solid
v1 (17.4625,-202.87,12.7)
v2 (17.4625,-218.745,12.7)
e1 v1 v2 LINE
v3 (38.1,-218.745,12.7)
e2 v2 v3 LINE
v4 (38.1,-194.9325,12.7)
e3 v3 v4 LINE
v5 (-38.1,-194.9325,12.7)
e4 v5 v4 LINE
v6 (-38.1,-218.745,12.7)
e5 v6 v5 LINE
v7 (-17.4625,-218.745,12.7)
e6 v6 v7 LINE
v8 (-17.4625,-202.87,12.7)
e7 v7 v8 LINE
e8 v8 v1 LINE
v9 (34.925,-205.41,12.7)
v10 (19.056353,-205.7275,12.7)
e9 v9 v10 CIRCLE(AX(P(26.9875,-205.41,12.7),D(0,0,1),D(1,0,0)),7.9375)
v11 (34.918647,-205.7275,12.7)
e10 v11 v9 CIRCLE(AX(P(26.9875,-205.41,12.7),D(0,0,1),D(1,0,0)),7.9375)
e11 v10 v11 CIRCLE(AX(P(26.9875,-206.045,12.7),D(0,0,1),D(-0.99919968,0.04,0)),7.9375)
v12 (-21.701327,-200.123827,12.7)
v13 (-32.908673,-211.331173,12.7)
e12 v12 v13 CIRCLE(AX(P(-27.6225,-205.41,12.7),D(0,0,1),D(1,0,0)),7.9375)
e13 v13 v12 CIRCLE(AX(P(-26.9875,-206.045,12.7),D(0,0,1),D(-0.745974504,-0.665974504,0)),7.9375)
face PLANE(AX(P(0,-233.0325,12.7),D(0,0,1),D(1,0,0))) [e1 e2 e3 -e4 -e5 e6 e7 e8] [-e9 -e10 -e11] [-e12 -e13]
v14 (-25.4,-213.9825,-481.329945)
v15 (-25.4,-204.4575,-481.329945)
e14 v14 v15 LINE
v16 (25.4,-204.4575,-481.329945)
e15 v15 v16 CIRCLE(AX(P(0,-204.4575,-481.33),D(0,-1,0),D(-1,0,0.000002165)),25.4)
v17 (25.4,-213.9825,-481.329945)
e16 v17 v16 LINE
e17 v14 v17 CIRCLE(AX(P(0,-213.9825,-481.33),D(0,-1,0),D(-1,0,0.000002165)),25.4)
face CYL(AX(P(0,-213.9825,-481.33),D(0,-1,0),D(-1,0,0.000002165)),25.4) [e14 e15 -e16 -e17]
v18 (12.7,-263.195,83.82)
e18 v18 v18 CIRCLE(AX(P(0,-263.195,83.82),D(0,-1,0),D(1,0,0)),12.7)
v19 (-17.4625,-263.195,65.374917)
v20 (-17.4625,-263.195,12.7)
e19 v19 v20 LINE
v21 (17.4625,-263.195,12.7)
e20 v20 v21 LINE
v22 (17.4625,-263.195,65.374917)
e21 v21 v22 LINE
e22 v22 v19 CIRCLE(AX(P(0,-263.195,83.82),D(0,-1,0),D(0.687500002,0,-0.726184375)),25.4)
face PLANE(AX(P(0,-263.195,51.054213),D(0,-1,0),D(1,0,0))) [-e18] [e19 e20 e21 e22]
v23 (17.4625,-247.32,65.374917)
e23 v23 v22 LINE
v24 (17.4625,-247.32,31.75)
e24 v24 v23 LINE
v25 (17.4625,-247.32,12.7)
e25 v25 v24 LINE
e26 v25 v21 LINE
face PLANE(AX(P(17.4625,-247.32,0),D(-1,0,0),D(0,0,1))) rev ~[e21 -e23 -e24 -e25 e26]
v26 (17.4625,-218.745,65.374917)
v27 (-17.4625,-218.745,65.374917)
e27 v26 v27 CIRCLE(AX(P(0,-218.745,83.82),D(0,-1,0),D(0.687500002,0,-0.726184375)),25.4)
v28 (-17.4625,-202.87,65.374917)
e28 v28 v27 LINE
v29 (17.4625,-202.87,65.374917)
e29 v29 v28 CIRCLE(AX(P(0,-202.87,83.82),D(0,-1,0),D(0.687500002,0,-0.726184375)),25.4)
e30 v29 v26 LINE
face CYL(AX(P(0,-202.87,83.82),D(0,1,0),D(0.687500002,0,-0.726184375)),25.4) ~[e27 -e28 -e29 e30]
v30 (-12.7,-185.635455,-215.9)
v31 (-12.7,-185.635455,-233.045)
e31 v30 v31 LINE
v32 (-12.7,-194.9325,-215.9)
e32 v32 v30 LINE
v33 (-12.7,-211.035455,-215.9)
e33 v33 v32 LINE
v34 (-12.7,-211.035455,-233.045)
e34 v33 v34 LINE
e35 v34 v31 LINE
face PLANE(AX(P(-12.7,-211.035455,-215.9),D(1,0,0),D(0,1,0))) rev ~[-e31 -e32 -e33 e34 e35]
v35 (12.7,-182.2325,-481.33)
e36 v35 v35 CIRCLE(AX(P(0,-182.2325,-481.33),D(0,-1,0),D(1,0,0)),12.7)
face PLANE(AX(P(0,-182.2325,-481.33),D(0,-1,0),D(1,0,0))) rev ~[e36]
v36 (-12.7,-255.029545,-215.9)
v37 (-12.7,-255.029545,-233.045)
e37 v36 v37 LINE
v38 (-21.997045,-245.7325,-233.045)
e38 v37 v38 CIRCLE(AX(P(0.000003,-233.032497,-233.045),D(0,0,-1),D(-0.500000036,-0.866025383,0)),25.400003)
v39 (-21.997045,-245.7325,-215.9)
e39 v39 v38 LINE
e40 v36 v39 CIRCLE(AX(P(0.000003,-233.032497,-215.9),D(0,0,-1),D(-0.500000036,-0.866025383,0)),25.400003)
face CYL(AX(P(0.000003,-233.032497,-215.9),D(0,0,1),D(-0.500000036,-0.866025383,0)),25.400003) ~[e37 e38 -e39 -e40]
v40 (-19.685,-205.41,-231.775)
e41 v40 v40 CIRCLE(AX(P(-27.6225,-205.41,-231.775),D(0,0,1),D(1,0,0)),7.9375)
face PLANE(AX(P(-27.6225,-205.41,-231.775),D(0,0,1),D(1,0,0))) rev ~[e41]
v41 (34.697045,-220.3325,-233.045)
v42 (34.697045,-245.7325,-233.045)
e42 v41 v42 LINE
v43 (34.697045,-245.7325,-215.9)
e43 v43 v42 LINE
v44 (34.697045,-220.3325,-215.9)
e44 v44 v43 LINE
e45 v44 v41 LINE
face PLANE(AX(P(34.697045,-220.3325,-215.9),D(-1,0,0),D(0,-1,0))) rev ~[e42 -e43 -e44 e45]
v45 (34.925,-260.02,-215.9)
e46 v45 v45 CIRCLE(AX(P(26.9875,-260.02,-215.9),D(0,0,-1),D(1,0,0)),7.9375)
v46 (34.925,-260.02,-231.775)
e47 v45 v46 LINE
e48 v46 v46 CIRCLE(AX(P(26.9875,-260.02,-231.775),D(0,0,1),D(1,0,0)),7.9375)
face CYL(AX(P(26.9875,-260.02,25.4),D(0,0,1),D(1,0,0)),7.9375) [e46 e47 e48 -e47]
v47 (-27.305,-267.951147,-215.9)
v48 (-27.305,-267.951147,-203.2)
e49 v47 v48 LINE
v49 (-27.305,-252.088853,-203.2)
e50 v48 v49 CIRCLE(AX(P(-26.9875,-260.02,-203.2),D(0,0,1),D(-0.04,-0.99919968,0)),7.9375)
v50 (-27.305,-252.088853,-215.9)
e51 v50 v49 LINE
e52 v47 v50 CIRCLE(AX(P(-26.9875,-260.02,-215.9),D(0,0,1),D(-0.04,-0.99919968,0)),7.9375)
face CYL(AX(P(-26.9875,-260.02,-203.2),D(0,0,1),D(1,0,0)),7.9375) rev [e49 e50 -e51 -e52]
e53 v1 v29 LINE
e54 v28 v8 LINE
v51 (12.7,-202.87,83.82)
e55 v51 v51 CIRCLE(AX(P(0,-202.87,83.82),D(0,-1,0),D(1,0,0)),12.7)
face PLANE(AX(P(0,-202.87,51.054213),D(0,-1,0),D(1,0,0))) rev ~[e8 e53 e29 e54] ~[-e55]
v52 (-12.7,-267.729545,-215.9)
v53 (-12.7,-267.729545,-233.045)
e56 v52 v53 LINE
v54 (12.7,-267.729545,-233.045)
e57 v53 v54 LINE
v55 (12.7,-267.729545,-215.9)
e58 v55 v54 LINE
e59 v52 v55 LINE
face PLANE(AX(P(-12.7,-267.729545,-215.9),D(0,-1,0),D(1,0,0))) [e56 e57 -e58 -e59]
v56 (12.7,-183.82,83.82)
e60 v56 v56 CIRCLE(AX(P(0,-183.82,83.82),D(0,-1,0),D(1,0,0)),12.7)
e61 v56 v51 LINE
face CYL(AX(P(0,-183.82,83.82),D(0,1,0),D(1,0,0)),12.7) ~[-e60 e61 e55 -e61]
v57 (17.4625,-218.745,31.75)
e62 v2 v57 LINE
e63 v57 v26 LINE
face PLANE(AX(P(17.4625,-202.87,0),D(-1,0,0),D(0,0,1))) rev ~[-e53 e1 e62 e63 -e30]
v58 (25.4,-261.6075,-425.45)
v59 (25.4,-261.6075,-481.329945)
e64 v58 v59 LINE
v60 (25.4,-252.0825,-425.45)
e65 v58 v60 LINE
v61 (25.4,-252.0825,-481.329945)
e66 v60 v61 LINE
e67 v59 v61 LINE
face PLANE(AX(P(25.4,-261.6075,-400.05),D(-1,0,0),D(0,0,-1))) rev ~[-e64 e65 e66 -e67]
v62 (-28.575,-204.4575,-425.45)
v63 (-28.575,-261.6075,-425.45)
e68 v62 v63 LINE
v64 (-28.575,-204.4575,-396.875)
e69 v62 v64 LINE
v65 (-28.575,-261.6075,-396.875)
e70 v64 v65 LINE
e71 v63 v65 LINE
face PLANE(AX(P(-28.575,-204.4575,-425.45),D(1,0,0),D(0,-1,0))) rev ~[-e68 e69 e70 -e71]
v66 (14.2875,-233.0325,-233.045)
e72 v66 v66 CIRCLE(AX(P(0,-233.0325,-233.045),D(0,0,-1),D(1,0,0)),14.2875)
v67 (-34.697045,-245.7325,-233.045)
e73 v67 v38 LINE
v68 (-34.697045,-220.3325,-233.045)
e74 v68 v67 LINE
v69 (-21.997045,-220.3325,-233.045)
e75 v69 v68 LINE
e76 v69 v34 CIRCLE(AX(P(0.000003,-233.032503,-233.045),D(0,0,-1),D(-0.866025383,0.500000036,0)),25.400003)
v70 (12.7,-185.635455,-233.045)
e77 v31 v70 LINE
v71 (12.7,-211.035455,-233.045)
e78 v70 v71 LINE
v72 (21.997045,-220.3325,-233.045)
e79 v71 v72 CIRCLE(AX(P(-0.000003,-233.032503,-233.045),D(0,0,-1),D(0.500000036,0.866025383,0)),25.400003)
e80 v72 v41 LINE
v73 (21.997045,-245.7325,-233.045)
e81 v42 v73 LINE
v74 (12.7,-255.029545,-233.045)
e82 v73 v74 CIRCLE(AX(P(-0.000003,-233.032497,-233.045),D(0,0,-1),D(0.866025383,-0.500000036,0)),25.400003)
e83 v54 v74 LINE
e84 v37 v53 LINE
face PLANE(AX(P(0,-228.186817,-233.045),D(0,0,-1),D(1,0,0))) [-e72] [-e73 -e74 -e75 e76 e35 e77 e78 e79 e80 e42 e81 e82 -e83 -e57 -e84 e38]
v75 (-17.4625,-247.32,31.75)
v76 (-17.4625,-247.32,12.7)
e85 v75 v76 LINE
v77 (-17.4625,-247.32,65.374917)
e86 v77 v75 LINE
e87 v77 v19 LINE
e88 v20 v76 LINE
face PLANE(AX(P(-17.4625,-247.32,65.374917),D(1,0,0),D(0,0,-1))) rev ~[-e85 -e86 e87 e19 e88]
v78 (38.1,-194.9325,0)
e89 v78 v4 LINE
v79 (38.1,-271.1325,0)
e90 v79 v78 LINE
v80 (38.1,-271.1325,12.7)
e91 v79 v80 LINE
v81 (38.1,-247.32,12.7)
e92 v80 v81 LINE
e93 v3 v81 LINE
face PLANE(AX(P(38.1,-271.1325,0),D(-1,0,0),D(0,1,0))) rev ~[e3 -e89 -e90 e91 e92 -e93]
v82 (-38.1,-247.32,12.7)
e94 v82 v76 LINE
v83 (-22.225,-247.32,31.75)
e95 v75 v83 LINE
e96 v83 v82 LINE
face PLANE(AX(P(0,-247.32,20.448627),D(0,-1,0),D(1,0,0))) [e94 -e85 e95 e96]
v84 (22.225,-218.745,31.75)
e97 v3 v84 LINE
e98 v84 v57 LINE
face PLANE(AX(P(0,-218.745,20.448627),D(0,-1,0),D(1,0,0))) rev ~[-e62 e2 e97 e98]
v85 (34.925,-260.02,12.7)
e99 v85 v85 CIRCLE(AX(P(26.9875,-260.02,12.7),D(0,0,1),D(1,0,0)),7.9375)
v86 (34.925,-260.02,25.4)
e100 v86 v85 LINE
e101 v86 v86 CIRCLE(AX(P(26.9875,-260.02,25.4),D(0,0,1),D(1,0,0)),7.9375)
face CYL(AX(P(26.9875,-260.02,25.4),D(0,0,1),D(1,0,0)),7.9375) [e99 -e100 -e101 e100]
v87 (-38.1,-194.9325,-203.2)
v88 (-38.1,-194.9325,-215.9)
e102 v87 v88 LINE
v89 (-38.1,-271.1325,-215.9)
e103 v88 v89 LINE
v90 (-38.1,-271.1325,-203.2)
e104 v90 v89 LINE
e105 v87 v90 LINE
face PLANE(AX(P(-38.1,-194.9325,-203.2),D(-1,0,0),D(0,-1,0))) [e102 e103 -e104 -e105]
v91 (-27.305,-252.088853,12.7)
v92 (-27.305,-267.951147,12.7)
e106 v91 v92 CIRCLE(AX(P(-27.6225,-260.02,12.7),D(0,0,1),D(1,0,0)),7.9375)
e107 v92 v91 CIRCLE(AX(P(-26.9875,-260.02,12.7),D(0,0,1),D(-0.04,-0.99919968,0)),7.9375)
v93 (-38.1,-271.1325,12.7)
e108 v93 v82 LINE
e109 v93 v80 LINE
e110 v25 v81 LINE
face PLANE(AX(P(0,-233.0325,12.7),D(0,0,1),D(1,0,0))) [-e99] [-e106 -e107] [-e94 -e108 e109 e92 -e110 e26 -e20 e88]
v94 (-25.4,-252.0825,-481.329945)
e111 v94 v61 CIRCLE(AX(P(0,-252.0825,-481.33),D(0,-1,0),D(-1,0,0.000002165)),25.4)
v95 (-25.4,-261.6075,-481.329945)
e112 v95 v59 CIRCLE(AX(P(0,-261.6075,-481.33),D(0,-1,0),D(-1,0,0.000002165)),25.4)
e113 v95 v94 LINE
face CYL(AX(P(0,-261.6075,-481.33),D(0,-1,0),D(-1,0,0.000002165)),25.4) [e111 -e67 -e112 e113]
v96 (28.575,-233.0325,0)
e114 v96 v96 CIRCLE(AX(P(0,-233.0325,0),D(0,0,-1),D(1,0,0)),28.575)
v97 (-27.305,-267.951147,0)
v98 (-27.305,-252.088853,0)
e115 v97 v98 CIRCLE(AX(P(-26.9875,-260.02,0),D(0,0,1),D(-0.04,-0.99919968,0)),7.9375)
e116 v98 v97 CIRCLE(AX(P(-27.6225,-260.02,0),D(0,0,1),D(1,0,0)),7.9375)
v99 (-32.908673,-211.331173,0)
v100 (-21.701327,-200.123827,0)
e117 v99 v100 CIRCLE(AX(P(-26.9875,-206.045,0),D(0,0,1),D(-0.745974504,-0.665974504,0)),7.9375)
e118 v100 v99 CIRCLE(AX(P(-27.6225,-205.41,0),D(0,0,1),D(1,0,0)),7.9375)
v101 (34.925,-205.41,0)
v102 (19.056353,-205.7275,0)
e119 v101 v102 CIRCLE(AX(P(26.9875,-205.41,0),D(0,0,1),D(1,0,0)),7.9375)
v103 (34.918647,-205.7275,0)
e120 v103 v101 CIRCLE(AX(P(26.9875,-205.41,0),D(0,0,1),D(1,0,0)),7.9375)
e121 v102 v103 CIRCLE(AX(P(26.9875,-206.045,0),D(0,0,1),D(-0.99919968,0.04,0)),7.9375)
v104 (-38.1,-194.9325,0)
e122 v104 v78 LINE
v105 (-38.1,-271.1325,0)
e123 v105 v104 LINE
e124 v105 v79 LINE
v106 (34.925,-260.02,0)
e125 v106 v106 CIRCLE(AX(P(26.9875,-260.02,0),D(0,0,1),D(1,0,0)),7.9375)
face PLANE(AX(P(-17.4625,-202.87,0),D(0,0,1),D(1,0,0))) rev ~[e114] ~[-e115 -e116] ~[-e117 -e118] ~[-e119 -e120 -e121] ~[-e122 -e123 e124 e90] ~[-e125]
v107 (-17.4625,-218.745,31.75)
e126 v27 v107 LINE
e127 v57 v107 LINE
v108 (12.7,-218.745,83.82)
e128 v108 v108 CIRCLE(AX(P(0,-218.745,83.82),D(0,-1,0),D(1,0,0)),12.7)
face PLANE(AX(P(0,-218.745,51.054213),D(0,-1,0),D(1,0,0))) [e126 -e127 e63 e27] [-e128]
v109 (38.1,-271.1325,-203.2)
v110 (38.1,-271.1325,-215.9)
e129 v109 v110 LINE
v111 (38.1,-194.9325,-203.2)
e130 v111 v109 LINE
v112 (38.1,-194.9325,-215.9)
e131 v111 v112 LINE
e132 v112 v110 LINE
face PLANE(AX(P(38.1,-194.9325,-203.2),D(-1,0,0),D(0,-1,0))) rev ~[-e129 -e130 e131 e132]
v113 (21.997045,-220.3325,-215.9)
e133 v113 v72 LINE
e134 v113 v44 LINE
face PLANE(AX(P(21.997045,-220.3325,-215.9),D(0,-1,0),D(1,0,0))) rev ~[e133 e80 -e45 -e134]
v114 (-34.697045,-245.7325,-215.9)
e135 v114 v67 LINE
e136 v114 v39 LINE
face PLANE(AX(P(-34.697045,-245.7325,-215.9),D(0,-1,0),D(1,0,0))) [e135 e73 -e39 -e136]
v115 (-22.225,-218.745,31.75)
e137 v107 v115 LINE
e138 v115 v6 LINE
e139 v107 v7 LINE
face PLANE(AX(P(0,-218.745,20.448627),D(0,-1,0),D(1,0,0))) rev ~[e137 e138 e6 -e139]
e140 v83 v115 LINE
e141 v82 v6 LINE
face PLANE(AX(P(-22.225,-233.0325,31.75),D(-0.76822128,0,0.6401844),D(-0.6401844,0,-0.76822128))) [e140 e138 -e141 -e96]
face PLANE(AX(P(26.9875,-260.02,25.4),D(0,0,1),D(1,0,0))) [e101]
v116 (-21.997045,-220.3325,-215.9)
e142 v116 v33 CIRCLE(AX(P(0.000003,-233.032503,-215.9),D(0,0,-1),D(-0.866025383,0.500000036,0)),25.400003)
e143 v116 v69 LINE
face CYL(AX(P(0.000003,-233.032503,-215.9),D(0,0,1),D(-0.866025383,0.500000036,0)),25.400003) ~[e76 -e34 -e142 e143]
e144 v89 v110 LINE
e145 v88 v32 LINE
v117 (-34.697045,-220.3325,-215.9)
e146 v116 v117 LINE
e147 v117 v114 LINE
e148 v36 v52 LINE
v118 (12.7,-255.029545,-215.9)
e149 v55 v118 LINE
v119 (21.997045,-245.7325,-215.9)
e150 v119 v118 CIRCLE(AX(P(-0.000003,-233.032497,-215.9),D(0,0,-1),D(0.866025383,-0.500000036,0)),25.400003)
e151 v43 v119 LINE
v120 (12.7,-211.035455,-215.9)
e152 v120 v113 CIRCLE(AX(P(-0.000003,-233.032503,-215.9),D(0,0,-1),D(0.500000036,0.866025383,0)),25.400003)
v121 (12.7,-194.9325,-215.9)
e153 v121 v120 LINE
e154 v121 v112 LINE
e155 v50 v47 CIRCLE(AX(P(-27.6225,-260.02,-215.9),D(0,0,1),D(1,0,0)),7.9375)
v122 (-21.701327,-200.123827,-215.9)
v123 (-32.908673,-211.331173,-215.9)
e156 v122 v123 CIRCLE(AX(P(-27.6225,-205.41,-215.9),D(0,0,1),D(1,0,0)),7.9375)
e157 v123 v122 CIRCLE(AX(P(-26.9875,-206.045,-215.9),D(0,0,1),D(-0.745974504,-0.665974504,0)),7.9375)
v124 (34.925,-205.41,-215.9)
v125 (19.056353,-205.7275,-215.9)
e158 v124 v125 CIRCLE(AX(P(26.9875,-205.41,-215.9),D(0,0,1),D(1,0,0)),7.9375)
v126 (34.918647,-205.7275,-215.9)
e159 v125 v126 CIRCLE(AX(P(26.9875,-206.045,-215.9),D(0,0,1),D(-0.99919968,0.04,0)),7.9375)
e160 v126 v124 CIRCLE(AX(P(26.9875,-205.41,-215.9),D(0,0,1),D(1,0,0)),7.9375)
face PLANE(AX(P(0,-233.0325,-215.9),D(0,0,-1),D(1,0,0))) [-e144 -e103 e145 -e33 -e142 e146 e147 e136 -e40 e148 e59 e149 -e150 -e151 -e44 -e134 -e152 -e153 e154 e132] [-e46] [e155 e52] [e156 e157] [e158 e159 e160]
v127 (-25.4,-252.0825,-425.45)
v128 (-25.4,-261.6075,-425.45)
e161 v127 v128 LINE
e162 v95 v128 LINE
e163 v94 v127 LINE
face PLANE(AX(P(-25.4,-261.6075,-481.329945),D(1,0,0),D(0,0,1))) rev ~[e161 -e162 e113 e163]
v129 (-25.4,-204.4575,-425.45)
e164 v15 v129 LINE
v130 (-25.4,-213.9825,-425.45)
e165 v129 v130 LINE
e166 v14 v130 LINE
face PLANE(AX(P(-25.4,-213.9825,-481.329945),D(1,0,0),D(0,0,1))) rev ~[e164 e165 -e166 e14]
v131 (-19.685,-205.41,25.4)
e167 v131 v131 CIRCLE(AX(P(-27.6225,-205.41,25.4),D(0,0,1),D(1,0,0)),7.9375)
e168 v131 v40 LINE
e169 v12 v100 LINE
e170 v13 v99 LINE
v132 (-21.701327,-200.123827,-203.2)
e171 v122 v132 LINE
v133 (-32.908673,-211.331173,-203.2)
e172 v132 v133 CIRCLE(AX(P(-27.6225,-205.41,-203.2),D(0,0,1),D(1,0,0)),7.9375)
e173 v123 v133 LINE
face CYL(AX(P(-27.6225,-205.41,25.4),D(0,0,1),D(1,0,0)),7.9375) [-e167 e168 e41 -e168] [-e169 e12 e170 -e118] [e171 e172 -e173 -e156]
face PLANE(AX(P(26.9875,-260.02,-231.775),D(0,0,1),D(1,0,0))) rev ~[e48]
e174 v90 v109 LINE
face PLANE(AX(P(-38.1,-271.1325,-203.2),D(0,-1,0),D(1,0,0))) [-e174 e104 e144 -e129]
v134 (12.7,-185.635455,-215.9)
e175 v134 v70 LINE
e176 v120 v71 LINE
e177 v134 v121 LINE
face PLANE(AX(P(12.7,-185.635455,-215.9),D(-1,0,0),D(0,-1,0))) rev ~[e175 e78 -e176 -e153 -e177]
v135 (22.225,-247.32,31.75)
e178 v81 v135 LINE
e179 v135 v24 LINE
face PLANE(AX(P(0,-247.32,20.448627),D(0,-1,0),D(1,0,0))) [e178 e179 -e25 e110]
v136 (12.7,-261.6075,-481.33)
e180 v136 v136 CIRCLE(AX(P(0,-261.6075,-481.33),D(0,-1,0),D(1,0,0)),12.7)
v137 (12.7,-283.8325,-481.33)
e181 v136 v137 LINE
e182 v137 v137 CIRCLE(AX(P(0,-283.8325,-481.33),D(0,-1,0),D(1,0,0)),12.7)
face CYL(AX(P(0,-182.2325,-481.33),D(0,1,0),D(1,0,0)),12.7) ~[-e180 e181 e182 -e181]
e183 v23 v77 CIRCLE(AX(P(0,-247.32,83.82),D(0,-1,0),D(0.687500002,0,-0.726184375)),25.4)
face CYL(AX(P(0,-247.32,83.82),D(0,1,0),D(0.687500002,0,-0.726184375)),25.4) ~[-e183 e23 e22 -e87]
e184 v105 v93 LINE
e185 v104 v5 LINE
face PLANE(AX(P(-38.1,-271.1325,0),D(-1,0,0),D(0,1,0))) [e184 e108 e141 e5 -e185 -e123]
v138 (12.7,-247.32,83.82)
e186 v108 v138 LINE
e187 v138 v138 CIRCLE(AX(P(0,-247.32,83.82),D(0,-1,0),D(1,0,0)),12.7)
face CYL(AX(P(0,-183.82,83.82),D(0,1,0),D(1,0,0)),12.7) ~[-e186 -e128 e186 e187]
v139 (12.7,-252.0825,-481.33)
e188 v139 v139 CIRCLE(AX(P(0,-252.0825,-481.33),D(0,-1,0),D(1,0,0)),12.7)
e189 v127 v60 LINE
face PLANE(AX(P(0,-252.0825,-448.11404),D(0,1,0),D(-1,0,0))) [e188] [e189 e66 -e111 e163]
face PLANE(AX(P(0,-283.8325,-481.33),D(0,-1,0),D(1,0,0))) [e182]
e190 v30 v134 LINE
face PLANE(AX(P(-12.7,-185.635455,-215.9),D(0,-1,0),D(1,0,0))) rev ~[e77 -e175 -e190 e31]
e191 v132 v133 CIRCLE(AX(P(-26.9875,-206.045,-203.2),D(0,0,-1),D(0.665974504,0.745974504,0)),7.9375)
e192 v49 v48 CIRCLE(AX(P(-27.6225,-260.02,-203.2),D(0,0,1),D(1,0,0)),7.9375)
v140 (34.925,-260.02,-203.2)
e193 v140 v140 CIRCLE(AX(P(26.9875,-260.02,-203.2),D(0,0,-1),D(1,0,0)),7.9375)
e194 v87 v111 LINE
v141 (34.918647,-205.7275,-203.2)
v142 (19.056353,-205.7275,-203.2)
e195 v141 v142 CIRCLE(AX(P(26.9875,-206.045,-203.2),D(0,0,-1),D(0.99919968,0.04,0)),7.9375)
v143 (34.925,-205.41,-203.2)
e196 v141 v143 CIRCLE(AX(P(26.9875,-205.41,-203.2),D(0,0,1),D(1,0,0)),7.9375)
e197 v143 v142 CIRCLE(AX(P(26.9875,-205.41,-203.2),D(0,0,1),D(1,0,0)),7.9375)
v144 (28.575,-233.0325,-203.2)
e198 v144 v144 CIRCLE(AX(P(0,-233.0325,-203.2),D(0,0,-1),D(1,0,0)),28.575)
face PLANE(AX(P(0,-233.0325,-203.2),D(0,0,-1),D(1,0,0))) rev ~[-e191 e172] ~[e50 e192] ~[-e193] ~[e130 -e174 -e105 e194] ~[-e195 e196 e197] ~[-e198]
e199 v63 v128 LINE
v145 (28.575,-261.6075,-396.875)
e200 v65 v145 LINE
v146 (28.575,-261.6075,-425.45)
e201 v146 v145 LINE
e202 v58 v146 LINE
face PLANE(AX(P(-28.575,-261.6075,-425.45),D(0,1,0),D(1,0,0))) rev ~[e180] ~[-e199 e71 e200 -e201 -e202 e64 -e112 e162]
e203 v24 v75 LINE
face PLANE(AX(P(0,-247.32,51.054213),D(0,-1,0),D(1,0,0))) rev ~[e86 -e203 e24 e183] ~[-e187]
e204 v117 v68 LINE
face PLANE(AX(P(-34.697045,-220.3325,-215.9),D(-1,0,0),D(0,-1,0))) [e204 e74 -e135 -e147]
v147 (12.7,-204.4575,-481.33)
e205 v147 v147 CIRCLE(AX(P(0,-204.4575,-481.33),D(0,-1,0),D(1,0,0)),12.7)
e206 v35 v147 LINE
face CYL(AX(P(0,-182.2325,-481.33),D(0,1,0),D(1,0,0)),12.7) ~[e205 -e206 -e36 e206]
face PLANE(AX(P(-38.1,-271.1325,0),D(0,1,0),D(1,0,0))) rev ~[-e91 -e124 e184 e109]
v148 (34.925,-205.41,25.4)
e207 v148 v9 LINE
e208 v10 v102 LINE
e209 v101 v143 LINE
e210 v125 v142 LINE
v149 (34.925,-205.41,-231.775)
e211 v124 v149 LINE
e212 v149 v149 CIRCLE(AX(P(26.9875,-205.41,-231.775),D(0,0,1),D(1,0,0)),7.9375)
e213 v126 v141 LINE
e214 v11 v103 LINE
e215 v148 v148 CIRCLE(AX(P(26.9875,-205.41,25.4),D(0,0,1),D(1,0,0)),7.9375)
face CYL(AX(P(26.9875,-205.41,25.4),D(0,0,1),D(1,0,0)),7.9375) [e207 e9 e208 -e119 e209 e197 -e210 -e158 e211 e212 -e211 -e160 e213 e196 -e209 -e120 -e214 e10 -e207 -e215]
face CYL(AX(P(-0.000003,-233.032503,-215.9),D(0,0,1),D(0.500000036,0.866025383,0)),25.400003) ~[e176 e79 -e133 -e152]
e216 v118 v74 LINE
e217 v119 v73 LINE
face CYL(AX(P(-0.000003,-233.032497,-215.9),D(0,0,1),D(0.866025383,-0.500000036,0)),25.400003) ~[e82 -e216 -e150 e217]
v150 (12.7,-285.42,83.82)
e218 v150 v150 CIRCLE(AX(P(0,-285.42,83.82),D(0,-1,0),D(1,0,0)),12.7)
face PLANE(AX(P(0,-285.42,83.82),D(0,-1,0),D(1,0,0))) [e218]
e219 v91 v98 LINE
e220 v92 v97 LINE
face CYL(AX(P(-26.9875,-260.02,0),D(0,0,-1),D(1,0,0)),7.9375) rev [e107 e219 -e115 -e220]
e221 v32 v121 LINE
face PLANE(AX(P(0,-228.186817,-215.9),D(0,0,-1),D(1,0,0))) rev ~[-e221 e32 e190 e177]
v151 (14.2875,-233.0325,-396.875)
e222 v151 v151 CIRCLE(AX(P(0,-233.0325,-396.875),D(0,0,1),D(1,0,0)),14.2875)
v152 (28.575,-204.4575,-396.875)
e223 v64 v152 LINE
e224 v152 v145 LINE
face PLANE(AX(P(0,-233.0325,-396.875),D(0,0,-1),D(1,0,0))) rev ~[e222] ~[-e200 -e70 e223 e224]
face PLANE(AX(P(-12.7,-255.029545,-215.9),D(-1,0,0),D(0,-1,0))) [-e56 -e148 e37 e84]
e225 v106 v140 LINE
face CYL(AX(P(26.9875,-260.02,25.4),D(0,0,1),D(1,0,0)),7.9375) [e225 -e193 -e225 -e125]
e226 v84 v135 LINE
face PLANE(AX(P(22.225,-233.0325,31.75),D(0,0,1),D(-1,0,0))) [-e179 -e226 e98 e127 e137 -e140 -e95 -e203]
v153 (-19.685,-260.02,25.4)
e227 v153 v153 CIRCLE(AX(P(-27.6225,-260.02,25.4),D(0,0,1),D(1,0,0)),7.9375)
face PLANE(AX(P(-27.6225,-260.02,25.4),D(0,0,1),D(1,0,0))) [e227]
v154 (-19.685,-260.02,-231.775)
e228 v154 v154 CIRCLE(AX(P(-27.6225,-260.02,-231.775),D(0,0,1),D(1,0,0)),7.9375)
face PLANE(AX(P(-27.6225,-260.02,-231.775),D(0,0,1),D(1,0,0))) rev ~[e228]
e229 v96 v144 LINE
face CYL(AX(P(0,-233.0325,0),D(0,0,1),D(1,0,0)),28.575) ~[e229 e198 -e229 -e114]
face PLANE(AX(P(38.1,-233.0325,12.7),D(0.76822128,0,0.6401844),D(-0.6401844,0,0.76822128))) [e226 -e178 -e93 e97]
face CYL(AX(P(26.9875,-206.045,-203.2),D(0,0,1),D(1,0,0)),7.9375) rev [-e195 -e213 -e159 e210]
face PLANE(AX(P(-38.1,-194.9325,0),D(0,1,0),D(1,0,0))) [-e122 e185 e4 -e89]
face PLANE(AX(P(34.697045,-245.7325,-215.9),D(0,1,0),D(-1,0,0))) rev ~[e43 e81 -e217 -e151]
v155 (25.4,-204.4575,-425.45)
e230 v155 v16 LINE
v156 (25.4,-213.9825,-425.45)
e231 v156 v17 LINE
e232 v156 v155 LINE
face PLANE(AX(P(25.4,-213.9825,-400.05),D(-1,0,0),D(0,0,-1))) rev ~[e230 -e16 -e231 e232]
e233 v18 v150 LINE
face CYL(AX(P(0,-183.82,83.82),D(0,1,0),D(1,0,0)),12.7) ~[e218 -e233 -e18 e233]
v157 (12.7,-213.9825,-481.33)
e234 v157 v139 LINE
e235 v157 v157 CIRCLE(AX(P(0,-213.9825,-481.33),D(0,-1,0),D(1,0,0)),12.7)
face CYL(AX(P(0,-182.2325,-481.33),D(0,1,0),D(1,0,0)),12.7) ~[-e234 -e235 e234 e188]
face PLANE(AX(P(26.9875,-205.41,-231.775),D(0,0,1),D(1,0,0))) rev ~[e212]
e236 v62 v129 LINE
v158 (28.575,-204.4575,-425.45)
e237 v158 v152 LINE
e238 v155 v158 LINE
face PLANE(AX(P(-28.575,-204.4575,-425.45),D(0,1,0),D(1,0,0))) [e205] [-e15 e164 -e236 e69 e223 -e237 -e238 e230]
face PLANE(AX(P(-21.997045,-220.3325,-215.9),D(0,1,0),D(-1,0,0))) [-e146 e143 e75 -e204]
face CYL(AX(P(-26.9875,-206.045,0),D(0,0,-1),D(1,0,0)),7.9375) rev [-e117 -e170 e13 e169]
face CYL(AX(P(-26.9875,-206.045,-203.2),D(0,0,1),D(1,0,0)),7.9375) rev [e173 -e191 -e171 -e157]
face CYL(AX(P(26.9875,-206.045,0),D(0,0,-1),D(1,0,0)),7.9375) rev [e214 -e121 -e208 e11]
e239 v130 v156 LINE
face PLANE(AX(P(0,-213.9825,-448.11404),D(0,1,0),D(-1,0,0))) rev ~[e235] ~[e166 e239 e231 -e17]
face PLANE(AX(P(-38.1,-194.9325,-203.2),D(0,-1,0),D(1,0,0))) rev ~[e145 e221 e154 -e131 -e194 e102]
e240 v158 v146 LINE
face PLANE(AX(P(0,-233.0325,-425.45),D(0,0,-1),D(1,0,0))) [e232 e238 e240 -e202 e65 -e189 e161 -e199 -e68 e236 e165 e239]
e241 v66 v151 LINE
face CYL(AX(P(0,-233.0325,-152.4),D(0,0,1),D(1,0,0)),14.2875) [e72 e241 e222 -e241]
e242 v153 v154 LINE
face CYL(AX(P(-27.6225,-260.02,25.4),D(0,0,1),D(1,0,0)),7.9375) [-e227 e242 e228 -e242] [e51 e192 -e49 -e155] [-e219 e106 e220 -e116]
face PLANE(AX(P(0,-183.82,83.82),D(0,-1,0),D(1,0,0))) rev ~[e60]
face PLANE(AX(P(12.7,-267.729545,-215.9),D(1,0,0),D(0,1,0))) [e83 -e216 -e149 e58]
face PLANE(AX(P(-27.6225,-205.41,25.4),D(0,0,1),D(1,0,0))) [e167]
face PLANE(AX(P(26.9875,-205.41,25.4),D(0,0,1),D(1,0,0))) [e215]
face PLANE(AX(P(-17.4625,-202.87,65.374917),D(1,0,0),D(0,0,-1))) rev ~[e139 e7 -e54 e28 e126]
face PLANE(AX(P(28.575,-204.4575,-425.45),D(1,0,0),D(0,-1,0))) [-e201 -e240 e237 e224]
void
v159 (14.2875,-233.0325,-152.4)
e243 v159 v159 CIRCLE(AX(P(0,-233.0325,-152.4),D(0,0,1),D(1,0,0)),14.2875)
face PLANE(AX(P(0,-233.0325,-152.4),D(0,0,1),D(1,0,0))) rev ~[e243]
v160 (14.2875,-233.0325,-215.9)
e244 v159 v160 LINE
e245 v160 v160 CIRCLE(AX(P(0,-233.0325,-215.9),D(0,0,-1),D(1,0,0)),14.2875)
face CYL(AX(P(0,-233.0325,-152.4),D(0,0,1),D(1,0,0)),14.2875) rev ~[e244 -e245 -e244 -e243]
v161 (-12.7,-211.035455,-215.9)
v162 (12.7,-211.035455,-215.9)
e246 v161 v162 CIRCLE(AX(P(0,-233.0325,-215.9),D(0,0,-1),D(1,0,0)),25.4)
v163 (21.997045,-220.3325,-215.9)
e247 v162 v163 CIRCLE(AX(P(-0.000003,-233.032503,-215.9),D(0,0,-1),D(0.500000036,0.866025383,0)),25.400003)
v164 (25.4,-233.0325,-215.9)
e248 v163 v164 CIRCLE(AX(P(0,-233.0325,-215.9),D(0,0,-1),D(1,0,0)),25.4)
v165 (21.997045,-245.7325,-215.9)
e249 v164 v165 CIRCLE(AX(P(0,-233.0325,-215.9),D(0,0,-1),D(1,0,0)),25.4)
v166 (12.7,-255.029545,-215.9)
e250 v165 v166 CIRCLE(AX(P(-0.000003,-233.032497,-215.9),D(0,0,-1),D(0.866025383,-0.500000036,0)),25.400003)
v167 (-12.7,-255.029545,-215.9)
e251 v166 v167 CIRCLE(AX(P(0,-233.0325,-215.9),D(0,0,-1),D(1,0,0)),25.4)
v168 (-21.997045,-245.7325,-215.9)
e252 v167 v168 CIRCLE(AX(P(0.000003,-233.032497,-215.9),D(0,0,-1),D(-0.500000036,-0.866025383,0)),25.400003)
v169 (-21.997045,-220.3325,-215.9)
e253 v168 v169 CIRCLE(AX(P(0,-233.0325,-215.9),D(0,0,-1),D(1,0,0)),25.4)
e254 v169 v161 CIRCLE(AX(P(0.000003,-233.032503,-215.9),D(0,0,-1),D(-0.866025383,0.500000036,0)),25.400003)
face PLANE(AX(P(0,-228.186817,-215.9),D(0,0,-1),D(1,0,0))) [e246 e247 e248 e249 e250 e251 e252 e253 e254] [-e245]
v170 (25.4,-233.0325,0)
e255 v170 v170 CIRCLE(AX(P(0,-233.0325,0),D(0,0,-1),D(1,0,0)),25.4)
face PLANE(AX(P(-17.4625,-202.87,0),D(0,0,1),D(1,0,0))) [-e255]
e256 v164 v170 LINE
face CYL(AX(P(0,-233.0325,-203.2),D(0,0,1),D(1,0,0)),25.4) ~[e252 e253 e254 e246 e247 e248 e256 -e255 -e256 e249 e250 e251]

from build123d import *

# Parameters (mm, degrees)
CYLINDER_R             = 12.7
CYLINDER_DEPTH         = 101.6
CYLINDER_ROLL_ANGLE    = 90
SKETCH006_R            = 14.2875
PAD006_DEPTH           = 273.05
SKETCH007_W            = 57.15
SKETCH007_H            = 57.15
PAD007_DEPTH           = 28.575
SKETCH008_R            = 12.7
PAD008_DEPTH           = 9.525
LINEARPATTERN001_COUNT = 2
LINEARPATTERN001_PITCH = 47.625
SKETCH010_R            = 7.9375
PAD010_DEPTH           = 257.175
ARRAY_X_COUNT          = 2
ARRAY_X_PITCH          = 54.61
ARRAY_Y_COUNT          = 2
ARRAY_Y_PITCH          = 54.61
SKETCH_W               = 76.2
SKETCH_H               = 76.2
SKETCH_R               = 7.9375
PAD_DEPTH              = 12.7
PAD001_DEPTH           = 14.2875
SKETCH002_R            = 12.7
PAD002_DEPTH           = 15.875
LINEARPATTERN_COUNT    = 2
LINEARPATTERN_PITCH    = 44.45
SKETCH003_R            = 28.575
SKETCH003_R_2          = 25.4
PAD003_DEPTH           = 203.2
SKETCH004_W            = 76.2
SKETCH004_H            = 76.2
SKETCH004_R            = 7.9375
SKETCH004_R_2          = 25.4
PAD004_DEPTH           = 12.7
SKETCH005_R            = 14.2875
PAD005_DEPTH           = 17.145


with BuildPart() as cylinder:
    # Cylinder → Cylinder (new body)
    with BuildSketch(Plane.XY):
        Circle(CYLINDER_R)
    extrude(amount=CYLINDER_DEPTH)


with BuildPart() as cylinder_1:
    # Cylinder roll: moved
    add(cylinder.part.rotate(Axis((0, 0, 0), (1, 0, 0)), CYLINDER_ROLL_ANGLE))


with BuildPart() as cylinder_2:
    # Cylinder placement: moved
    add(cylinder_1.part.moved(Location((0, -83.82, 83.82))))


with BuildPart() as cylinder001:
    # Clone base: copy of Cylinder
    add(cylinder_2.part)


with BuildPart() as cylinder001_1:
    # Clone placement: moved
    add(cylinder001.part.moved(Location((0, 1.5875, -565.15))))


with BuildPart() as body001:
    # Sketch006 → Pad006 (new body)
    with BuildSketch(Plane.XY):
        Circle(SKETCH006_R)
    extrude(amount=-PAD006_DEPTH)

    # Sketch007 (on Face3 of Pad006) → Pad007 (join)
    with BuildSketch(Plane(origin=(0, 0, -273.05), x_dir=(1, 0, 0), z_dir=(0, 0, -1))):
        Rectangle(SKETCH007_W, SKETCH007_H)
    extrude(amount=-PAD007_DEPTH)

    # Sketch008 (on Face4 of Pad007) → Pad008 (join)
    with BuildSketch(Plane.XZ.offset(28.575)):
        with BuildLine():
            Line((-25.4, -247.65), (25.4, -247.65))
            Line((25.4, -247.65), (25.4, -328.929945))
            ThreePointArc((-25.4, -328.929945), (0, -354.33), (25.4, -328.929945))
            Line((-25.4, -328.929945), (-25.4, -247.65))
        make_face()
        with Locations((0, -328.93)):
            Circle(SKETCH008_R, mode=Mode.SUBTRACT)
    pad008 = extrude(amount=-PAD008_DEPTH)

    # LinearPattern001: Pad008 ×2
    with Locations(*[(0, i * LINEARPATTERN001_PITCH, 0) for i in range(1, LINEARPATTERN001_COUNT)]):
        add(pad008)


with BuildPart() as body001_1:
    # Body001 placement: moved
    add(body001.part.moved(Location((0, 0, -152.4))))


with BuildPart() as array:
    # Sketch010 → Pad010 (new body)
    with BuildSketch(Plane.XY):
        with Locations((26.9875, -26.9875)):
            Circle(SKETCH010_R)
    extrude(amount=-PAD010_DEPTH)

    # Array X: Array ×2


with BuildPart() as array_1:
    add(array.part)
    with Locations(*[(-i * ARRAY_X_PITCH, 0, 0) for i in range(1, ARRAY_X_COUNT)]):
        add(array.part)

    # Array Y: Array ×2


with BuildPart() as array_2:
    add(array_1.part)
    with Locations(*[(0, i * ARRAY_Y_PITCH, 0) for i in range(1, ARRAY_Y_COUNT)]):
        add(array_1.part)


with BuildPart() as array_3:
    # Array placement: moved
    add(array_2.part.moved(Location((0, 0, 25.4))))


with BuildPart() as fusion:
    # Sketch → Pad (new body)
    with BuildSketch(Plane.XY):
        Rectangle(SKETCH_W, SKETCH_H)
        with Locations((-26.9875, 26.9875)):
            Circle(SKETCH_R, mode=Mode.SUBTRACT)
        with Locations((26.9875, 26.9875)):
            Circle(SKETCH_R, mode=Mode.SUBTRACT)
        with Locations((-26.9875, -26.9875)):
            Circle(SKETCH_R, mode=Mode.SUBTRACT)
        with Locations((26.9875, -26.9875)):
            Circle(SKETCH_R, mode=Mode.SUBTRACT)
    extrude(amount=PAD_DEPTH)

    # Sketch001 → Pad001 (join, symmetric)
    with BuildSketch(Plane(origin=(0, 0, 12.7), x_dir=(1, 0, 0), z_dir=(0, -1, 0))):
        Polygon((-38.1, 0), (38.1, 0), (22.225, 19.05), (-22.225, 19.05), align=None)
    extrude(amount=PAD001_DEPTH, both=True)

    # Sketch002 (on Face15 of Pad001) → Pad002 (join)
    with BuildSketch(Plane.XZ.offset(14.2875)):
        with BuildLine():
            Line((-17.4625, 0), (17.4625, 0))
            Line((17.4625, 0), (17.4625, 65.374917))
            ThreePointArc((17.4625, 65.374917), (0, 109.22), (-17.4625, 65.374917))
            Line((-17.4625, 65.374917), (-17.4625, 0))
        make_face()
        with Locations((0, 83.82)):
            Circle(SKETCH002_R, mode=Mode.SUBTRACT)
    pad002 = extrude(amount=PAD002_DEPTH)

    # LinearPattern: Pad002 ×2
    with Locations(*[(0, i * LINEARPATTERN_PITCH, 0) for i in range(1, LINEARPATTERN_COUNT)]):
        add(pad002)

    # Sketch003 (on Face4 of LinearPattern) → Pad003 (join)
    with BuildSketch(Plane(origin=(0, 0, 0), x_dir=(1, 0, 0), z_dir=(0, 0, -1))):
        Circle(SKETCH003_R)
        Circle(SKETCH003_R_2, mode=Mode.SUBTRACT)
    extrude(amount=PAD003_DEPTH)

    # Sketch004 (on Face28 of Pad003) → Pad004 (join)
    with BuildSketch(Plane(origin=(0, 0, -203.2), x_dir=(1, 0, 0), z_dir=(0, 0, -1))):
        Rectangle(SKETCH004_W, SKETCH004_H)
        with Locations((-26.9875, 26.9875)):
            Circle(SKETCH004_R, mode=Mode.SUBTRACT)
        with Locations((26.9875, 26.9875)):
            Circle(SKETCH004_R, mode=Mode.SUBTRACT)
        with Locations((-26.9875, -26.9875)):
            Circle(SKETCH004_R, mode=Mode.SUBTRACT)
        with Locations((26.9875, -26.9875)):
            Circle(SKETCH004_R, mode=Mode.SUBTRACT)
        Circle(SKETCH004_R_2, mode=Mode.SUBTRACT)
    extrude(amount=PAD004_DEPTH)

    # Sketch005 (on Face43 of Pad004) → Pad005 (join)
    with BuildSketch(Plane(origin=(0, 0, -215.9), x_dir=(1, 0, 0), z_dir=(0, 0, -1))):
        with BuildLine():
            ThreePointArc((21.997045, 12.7), (17.960512, 17.960512), (12.7, 21.997045))
            Line((12.7, 34.697045), (12.7, 21.997045))
            Line((-12.7, 34.697045), (12.7, 34.697045))
            Line((-12.7, 21.997045), (-12.7, 34.697045))
            ThreePointArc((-12.7, 21.997045), (-17.960512, 17.960512), (-21.997045, 12.7))
            Line((-34.697045, 12.7), (-21.997045, 12.7))
            Line((-34.697045, -12.7), (-34.697045, 12.7))
            Line((-21.997045, -12.7), (-34.697045, -12.7))
            ThreePointArc((-21.997045, -12.7), (-17.960512, -17.960512), (-12.7, -21.997045))
            Line((-12.7, -21.997045), (-12.7, -47.397045))
            Line((-12.7, -47.397045), (12.7, -47.397045))
            Line((12.7, -47.397045), (12.7, -21.997045))
            ThreePointArc((12.7, -21.997045), (17.960512, -17.960512), (21.997045, -12.7))
            Line((21.997045, -12.7), (34.697045, -12.7))
            Line((34.697045, -12.7), (34.697045, 12.7))
            Line((34.697045, 12.7), (21.997045, 12.7))
        make_face()
        Circle(SKETCH005_R, mode=Mode.SUBTRACT)
    extrude(amount=PAD005_DEPTH)

    # Fusion: union Body001, Array
    add(body001_1.part)
    add(array_3.part)


with BuildPart() as fusion_1:
    # Fusion placement: moved
    add(fusion.part.moved(Location((0, -133.0325, 0))))


with BuildPart() as body003:
    # Fusion001 base: copy of Cylinder
    add(cylinder_2.part)

    # Fusion001: union Cylinder001, Fusion
    add(cylinder001_1.part)
    add(fusion_1.part)


with BuildPart() as body003_1:
    # Body003 placement: moved
    add(body003.part.moved(Location((0, -100, 0))))


solid = body003_1.part
